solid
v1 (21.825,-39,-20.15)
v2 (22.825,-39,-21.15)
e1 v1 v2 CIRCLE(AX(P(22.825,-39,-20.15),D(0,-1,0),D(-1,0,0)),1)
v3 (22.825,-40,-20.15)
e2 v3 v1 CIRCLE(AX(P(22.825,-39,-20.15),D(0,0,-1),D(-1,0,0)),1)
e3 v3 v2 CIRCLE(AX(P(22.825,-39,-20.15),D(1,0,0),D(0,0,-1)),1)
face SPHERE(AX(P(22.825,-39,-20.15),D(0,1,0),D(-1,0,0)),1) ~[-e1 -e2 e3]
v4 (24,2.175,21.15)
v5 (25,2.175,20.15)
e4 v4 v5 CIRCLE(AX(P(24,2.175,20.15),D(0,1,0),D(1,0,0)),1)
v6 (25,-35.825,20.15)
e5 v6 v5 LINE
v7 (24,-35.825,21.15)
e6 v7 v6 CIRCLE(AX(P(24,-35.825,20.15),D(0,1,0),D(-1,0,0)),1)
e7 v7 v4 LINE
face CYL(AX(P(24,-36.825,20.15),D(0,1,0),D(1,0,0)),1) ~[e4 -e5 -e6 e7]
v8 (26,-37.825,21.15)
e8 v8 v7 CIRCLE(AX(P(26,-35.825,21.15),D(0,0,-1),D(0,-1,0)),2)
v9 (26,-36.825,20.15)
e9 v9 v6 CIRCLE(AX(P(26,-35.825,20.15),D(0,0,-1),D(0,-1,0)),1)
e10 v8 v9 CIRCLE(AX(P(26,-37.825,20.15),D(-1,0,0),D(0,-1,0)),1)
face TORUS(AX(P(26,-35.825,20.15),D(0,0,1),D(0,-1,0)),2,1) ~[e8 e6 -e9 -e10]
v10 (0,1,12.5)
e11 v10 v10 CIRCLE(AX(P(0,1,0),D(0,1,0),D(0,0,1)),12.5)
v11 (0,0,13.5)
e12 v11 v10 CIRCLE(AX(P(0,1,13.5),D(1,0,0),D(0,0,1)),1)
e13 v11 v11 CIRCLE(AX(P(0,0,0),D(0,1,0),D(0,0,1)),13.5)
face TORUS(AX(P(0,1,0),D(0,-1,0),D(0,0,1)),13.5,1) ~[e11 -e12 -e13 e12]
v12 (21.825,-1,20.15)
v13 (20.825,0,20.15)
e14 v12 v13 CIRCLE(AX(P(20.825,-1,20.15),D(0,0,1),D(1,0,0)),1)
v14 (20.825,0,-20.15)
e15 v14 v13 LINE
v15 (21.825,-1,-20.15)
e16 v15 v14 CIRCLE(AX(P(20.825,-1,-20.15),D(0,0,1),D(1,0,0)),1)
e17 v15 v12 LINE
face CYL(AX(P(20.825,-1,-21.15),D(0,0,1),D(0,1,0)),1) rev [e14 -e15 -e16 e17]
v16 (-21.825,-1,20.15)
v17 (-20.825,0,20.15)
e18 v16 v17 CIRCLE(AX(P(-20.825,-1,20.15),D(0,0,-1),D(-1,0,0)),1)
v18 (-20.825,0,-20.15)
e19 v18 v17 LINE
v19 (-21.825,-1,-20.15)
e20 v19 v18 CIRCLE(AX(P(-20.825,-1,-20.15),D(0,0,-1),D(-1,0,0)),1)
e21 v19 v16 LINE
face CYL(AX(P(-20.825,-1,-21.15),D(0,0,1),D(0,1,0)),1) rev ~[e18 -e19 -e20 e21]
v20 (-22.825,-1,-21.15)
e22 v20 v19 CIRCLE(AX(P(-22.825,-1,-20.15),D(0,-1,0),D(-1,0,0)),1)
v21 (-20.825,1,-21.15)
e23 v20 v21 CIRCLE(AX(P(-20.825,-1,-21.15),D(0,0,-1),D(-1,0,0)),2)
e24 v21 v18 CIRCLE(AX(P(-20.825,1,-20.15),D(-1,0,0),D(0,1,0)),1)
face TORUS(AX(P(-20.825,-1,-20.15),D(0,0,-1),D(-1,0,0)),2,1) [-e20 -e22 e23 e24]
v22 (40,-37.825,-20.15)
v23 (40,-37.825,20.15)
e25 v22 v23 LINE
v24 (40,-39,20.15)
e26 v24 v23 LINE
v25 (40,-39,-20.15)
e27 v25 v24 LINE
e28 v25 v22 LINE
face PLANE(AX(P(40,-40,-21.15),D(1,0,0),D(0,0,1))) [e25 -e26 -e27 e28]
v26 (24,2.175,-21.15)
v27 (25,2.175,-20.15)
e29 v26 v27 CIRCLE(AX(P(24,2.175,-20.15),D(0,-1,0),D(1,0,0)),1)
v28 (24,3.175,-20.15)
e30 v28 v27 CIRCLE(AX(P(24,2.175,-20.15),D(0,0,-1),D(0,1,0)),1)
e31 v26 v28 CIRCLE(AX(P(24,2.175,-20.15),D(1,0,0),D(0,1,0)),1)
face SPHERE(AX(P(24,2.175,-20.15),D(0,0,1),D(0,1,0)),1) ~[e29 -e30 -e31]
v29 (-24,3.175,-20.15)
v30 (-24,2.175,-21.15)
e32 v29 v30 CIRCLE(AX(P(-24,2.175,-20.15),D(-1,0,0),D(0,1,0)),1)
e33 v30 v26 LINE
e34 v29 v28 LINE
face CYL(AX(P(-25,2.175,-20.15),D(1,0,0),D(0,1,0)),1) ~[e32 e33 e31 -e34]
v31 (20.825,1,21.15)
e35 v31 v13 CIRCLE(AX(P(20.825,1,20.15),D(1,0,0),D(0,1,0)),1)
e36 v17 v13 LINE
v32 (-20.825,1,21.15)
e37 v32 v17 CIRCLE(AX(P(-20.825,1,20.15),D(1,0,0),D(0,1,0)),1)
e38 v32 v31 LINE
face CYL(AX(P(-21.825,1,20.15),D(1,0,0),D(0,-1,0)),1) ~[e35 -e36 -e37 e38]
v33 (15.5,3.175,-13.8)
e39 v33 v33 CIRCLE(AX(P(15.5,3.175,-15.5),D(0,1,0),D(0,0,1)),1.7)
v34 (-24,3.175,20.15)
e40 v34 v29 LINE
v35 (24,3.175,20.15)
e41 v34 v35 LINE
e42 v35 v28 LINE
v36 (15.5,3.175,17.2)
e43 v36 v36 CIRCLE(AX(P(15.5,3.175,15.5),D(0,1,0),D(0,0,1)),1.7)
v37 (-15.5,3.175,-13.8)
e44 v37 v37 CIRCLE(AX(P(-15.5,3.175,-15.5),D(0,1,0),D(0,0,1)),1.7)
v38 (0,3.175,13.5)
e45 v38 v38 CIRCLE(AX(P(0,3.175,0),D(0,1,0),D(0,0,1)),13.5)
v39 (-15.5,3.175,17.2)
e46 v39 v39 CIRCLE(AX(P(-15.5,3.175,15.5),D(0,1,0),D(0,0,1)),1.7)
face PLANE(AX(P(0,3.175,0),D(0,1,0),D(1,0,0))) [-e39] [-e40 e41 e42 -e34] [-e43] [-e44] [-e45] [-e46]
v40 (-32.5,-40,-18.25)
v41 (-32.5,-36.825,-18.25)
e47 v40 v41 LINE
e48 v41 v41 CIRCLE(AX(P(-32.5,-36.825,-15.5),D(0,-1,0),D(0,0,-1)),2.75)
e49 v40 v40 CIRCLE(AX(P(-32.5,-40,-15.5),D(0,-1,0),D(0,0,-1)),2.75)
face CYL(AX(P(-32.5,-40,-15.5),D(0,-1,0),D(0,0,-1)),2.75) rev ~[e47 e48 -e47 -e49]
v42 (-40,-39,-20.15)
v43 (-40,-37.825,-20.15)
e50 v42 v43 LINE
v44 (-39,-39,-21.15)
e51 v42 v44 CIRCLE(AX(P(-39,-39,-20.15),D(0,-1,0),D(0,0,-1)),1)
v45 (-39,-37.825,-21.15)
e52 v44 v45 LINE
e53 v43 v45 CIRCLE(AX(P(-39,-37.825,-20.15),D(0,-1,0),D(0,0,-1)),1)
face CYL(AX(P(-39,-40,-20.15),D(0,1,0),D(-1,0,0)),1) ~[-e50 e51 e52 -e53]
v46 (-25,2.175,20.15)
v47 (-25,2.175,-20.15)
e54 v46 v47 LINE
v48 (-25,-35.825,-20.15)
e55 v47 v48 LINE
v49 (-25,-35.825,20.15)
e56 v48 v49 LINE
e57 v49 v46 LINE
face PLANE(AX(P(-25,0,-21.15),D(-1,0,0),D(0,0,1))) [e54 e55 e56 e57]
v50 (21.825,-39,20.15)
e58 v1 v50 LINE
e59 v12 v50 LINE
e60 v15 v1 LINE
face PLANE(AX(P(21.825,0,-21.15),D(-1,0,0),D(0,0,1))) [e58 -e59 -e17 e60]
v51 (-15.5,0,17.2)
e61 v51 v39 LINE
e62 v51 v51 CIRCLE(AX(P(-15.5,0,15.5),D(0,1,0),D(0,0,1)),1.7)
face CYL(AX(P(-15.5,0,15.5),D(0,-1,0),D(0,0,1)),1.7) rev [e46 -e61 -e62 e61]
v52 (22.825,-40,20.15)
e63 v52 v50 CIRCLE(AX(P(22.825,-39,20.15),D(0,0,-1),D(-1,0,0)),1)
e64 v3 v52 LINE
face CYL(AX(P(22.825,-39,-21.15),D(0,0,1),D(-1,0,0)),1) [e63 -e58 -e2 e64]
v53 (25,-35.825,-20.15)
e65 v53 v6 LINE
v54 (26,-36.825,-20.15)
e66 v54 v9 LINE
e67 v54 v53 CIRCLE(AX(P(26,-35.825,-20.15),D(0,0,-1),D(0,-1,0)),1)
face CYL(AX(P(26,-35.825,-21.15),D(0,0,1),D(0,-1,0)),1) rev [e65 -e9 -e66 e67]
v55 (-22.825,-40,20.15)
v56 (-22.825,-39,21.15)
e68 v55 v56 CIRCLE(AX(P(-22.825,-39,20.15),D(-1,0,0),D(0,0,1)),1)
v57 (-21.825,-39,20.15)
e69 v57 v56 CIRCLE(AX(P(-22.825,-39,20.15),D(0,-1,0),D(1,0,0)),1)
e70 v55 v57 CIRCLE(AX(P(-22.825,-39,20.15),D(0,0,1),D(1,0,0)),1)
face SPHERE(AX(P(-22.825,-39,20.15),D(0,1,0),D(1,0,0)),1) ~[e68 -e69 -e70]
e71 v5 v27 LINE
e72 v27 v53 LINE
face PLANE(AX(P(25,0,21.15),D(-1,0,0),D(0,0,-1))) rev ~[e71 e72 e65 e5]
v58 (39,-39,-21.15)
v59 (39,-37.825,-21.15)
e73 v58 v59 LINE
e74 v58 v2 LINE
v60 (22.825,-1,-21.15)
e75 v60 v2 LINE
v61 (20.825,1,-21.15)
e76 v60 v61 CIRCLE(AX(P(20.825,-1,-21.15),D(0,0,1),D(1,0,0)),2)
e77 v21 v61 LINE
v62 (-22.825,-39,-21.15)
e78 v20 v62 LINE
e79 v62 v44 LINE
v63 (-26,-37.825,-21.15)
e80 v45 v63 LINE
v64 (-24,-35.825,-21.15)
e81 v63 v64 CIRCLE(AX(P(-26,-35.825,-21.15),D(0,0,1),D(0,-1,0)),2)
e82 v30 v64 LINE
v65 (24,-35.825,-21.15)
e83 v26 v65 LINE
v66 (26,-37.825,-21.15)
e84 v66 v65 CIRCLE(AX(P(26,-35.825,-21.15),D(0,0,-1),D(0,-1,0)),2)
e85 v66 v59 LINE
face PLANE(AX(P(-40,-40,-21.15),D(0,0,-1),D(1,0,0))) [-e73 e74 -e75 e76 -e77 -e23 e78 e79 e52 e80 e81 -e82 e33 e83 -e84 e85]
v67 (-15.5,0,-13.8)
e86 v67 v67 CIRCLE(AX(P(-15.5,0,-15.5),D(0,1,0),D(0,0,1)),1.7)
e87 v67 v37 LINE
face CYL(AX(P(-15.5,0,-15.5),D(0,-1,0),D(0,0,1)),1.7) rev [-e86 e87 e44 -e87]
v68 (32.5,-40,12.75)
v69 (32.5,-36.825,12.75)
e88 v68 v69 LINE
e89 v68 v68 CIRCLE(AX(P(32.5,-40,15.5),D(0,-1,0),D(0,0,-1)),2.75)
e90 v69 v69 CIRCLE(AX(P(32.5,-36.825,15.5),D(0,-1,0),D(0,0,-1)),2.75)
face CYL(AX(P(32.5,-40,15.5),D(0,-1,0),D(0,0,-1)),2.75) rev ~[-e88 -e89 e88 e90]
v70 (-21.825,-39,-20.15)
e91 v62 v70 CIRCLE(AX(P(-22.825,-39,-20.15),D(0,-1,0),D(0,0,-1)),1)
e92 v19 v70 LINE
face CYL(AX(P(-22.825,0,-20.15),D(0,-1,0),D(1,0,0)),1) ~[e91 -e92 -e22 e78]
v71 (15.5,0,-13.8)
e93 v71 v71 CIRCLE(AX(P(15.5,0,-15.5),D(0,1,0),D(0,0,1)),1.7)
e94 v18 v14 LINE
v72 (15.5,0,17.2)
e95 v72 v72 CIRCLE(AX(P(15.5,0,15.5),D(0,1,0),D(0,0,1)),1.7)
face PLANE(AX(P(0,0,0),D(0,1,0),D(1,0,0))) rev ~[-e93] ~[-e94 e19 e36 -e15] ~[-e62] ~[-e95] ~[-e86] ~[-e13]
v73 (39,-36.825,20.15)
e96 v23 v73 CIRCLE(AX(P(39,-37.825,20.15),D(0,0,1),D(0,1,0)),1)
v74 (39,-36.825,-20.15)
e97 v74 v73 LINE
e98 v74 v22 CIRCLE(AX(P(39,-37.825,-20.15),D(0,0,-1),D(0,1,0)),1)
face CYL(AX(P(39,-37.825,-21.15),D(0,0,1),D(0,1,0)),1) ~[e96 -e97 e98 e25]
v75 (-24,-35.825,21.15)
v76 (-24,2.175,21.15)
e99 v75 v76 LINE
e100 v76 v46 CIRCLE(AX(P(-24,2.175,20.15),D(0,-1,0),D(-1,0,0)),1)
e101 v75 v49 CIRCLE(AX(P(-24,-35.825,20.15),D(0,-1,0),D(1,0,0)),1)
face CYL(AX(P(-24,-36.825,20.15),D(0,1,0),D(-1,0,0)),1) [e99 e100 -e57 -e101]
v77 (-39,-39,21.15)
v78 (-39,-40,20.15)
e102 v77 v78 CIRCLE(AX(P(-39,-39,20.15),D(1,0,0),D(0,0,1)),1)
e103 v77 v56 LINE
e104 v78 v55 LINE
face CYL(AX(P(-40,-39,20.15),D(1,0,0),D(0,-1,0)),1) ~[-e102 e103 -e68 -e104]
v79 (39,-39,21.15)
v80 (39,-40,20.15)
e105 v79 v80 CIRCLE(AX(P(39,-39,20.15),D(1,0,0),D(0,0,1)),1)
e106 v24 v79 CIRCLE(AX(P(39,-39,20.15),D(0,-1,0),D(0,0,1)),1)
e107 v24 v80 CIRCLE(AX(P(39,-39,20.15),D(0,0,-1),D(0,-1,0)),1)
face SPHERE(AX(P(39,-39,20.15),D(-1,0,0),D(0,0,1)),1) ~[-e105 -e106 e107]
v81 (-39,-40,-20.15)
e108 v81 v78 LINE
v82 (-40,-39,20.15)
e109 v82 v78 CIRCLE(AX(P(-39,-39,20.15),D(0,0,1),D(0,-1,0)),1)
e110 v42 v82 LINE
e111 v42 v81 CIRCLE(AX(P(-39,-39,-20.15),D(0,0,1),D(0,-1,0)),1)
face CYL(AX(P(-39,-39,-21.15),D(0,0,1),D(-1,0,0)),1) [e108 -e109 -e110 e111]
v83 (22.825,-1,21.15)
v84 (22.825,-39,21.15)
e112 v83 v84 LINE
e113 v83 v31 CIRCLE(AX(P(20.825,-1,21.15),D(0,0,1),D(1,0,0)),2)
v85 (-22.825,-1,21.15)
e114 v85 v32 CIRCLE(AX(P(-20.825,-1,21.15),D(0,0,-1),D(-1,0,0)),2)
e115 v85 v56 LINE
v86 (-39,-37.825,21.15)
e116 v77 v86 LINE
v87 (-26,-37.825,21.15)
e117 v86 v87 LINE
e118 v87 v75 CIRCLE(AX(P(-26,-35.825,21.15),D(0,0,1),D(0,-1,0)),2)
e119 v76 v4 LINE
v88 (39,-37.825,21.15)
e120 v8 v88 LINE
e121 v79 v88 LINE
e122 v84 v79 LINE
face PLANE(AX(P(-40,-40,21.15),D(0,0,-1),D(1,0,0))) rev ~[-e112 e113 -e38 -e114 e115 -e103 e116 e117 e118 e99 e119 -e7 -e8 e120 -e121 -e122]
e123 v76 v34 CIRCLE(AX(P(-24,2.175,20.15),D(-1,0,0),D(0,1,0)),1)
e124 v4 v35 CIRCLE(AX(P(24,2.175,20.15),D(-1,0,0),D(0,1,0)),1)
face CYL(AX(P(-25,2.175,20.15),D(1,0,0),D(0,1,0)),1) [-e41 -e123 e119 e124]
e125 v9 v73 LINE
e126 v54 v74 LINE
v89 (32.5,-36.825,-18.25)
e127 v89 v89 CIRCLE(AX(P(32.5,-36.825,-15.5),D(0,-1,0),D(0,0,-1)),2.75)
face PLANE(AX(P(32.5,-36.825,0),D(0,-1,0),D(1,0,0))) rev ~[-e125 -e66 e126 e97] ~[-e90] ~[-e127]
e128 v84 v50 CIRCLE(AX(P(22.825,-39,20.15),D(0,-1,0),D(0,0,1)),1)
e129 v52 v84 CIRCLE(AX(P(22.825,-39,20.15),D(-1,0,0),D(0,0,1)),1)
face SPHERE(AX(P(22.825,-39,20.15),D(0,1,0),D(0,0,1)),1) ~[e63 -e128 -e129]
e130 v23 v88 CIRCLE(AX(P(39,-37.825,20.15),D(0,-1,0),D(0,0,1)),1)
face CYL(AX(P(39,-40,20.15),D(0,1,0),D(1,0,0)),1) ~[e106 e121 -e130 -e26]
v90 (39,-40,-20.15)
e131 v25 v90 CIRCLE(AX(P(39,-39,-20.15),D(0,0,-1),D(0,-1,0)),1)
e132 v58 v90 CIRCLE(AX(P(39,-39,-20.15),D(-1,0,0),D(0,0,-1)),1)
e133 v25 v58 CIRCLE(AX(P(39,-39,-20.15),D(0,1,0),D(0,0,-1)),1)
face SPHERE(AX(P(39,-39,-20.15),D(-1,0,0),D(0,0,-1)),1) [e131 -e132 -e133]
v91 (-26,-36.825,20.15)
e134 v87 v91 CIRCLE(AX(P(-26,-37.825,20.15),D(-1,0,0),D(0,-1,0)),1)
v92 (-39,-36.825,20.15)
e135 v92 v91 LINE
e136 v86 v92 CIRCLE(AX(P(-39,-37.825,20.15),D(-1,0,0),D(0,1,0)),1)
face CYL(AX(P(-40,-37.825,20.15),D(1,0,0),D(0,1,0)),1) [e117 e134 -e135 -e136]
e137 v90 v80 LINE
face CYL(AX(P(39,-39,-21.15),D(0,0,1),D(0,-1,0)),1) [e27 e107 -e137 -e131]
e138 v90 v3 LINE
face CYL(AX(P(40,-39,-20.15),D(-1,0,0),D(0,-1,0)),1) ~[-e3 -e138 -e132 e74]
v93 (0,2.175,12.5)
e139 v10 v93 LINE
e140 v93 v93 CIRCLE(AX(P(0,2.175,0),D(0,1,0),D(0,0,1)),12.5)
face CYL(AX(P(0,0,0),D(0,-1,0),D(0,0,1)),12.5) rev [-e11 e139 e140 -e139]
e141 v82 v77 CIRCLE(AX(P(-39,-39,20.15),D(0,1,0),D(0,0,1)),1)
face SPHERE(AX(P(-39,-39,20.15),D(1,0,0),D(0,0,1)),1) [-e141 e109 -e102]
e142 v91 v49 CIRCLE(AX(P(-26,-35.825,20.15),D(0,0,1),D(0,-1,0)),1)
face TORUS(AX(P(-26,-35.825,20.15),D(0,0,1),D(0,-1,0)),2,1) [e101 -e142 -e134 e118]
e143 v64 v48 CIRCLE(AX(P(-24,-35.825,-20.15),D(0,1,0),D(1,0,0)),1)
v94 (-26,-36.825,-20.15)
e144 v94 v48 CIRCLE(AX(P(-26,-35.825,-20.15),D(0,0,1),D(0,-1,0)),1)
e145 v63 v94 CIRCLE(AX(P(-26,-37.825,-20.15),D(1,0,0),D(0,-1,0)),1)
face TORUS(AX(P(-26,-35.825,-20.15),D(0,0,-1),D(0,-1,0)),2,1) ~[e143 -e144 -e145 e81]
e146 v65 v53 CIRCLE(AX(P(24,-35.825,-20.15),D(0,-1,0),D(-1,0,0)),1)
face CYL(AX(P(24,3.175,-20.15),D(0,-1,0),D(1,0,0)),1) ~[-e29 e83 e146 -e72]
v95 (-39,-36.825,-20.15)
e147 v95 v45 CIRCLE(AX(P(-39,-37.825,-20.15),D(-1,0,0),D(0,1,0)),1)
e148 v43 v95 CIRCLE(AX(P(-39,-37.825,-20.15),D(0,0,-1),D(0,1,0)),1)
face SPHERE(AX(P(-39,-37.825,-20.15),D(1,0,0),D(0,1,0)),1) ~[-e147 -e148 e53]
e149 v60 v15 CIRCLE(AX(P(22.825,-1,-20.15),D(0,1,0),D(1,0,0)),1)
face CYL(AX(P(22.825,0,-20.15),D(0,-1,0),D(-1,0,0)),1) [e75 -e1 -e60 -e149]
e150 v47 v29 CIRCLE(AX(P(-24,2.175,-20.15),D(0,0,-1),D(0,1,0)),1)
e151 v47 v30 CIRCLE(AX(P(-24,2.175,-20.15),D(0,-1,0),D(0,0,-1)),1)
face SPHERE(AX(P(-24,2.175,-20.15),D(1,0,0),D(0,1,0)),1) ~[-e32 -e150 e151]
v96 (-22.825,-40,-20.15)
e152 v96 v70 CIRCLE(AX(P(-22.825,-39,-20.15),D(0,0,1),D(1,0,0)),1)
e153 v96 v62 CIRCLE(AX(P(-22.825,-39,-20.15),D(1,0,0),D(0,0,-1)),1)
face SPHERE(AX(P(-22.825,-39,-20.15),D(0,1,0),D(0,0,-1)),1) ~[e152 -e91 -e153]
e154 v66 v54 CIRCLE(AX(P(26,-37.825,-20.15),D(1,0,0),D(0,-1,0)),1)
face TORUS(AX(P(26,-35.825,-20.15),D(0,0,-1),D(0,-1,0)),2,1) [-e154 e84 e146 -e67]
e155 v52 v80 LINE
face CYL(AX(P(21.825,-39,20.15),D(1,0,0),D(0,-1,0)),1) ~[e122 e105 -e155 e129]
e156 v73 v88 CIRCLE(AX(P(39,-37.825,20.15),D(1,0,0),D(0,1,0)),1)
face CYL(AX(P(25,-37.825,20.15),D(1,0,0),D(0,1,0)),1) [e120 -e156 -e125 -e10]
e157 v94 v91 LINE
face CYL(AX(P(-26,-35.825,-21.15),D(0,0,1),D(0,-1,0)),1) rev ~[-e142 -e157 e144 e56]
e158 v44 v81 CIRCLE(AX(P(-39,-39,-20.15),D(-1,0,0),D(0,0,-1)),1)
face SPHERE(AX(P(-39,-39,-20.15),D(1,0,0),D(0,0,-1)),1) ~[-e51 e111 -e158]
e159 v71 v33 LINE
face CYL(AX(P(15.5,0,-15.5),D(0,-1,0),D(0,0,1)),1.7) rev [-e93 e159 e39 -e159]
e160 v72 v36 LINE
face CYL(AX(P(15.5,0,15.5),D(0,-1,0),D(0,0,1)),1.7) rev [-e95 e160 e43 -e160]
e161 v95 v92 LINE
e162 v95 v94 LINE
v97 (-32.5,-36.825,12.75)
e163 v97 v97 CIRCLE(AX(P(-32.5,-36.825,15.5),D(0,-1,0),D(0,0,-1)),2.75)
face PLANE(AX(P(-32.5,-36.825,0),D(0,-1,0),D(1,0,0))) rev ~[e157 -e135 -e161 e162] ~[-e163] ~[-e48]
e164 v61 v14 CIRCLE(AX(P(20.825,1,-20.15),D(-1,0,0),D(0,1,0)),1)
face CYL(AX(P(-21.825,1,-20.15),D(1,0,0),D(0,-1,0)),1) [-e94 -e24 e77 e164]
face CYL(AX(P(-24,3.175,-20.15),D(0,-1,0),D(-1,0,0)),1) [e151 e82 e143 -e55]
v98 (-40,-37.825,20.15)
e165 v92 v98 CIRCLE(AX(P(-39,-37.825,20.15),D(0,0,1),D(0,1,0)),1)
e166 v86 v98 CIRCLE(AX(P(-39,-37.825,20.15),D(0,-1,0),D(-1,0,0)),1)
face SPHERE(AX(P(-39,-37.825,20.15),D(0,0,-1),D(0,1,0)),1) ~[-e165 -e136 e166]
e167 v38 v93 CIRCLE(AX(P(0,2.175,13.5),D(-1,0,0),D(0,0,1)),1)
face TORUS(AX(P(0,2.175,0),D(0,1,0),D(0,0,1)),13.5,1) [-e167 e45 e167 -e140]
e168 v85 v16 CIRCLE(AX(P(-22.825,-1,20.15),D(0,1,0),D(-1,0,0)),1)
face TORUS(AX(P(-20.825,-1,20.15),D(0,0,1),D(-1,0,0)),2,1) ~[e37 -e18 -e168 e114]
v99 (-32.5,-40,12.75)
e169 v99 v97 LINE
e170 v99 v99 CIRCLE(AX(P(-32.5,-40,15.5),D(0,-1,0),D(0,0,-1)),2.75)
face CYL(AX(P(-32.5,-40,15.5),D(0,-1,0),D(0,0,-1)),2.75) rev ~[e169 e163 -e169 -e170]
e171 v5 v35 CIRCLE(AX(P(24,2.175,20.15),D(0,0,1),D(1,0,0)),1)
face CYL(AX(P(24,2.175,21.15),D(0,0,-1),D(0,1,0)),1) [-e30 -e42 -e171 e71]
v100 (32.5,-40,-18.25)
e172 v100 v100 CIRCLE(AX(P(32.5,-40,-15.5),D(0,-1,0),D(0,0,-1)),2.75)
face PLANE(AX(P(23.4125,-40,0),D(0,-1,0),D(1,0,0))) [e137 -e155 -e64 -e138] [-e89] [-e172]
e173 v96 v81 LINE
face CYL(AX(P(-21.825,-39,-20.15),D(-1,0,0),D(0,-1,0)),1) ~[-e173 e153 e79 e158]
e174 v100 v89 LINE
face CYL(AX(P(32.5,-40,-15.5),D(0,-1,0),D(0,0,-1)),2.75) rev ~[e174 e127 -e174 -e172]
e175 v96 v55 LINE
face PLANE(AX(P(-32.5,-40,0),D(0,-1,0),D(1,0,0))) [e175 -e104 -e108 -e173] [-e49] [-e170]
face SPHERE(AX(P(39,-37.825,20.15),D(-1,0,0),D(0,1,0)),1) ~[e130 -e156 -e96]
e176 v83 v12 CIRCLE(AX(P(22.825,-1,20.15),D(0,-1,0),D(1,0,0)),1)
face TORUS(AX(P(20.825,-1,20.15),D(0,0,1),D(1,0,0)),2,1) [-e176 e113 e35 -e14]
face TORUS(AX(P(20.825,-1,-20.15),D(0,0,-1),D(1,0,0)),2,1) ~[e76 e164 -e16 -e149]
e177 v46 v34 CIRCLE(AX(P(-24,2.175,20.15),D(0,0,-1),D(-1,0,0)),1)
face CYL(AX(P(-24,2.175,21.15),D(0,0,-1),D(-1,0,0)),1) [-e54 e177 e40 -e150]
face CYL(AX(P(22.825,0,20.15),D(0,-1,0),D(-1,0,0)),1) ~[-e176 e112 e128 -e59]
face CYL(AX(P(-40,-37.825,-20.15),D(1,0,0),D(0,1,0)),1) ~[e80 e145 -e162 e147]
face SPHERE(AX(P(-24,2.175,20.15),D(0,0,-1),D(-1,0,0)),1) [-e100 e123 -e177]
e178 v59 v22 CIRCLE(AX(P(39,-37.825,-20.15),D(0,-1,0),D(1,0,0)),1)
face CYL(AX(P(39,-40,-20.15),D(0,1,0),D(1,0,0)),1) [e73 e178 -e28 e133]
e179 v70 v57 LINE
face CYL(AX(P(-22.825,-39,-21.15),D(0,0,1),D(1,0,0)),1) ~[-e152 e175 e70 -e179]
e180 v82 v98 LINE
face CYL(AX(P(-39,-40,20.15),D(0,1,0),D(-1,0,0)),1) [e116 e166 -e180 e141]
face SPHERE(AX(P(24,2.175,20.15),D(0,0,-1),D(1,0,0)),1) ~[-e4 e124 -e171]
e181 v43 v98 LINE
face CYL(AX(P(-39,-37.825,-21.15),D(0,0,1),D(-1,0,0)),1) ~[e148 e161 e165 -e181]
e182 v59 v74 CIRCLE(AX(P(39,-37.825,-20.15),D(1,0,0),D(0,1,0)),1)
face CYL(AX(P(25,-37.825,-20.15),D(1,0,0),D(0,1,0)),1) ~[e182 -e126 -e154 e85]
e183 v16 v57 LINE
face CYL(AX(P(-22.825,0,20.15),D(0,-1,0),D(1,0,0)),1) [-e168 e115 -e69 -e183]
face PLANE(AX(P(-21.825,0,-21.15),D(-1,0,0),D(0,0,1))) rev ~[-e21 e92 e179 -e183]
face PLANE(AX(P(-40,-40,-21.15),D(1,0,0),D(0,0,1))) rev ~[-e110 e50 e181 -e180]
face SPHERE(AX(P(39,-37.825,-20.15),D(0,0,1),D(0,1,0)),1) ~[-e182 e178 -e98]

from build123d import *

# Parameters (mm, degrees)
SKETCH1_W           = 50
SKETCH1_H           = 42.3
SKETCH1_R           = 12.5
SKETCH1_R_2         = 1.7
BOSS_EXTRUDE1_DEPTH = 3.175
SKETCH2_W           = 3.175
SKETCH2_H           = 42.3
BOSS_EXTRUDE2_DEPTH = 40
SKETCH3_W           = 15
SKETCH3_H           = 42.3
SKETCH3_R           = 2.75
BOSS_EXTRUDE3_DEPTH = 3.175
FILLET1_R           = 1
FILLET2_R           = 1


with BuildPart() as part:
    # Sketch1 → Boss-Extrude1 (new body)
    with BuildSketch(Plane(origin=(0, 0, 0), x_dir=(1, 0, 0), z_dir=(0, 1, 0))):
        Rectangle(SKETCH1_W, SKETCH1_H)
        with Locations(Location((0, 0, 0), (0, 0, 270))):
            Circle(SKETCH1_R, mode=Mode.SUBTRACT)
        with Locations(Location((-15.5, 15.5, 0), (0, 0, 270))):
            Circle(SKETCH1_R_2, mode=Mode.SUBTRACT)
        with Locations(Location((15.5, 15.5, 0), (0, 0, 270))):
            Circle(SKETCH1_R_2, mode=Mode.SUBTRACT)
        with Locations(Location((15.5, -15.5, 0), (0, 0, 270))):
            Circle(SKETCH1_R_2, mode=Mode.SUBTRACT)
        with Locations(Location((-15.5, -15.5, 0), (0, 0, 270))):
            Circle(SKETCH1_R_2, mode=Mode.SUBTRACT)
    extrude(amount=BOSS_EXTRUDE1_DEPTH)

    # Sketch2 → Boss-Extrude2 (add)
    with BuildSketch(Plane.XZ):
        with Locations((-23.4125, 0)):
            Rectangle(SKETCH2_W, SKETCH2_H)
        with Locations((23.4125, 0)):
            Rectangle(SKETCH2_W, SKETCH2_H)
    extrude(amount=BOSS_EXTRUDE2_DEPTH)

    # Sketch3 → Boss-Extrude3 (add)
    # profile 1 of 2: a face of its own
    with BuildSketch(Plane.XZ.offset(40)):
        with Locations((-32.5, 0)):
            Rectangle(SKETCH3_W, SKETCH3_H)
        with Locations(Location((-32.5, 15.5, 0), (0, 0, 270))):
            Circle(SKETCH3_R, mode=Mode.SUBTRACT)
        with Locations(Location((-32.5, -15.5, 0), (0, 0, 270))):
            Circle(SKETCH3_R, mode=Mode.SUBTRACT)
    # profile 2 of 2: a face of its own
    with BuildSketch(Plane.XZ.offset(40)):
        with Locations((32.5, 0)):
            Rectangle(SKETCH3_W, SKETCH3_H)
        with Locations(Location((32.5, -15.5, 0), (0, 0, 270))):
            Circle(SKETCH3_R, mode=Mode.SUBTRACT)
        with Locations(Location((32.5, 15.5, 0), (0, 0, 270))):
            Circle(SKETCH3_R, mode=Mode.SUBTRACT)
    extrude(amount=-BOSS_EXTRUDE3_DEPTH)

    # Fillet1
    fillet1_edges = [part.edges().sort_by_distance(p)[0] for p in [
        (25, 3.175, 0),
        (0, 3.175, -21.15),
        (0, 0, 21.15),
        (-21.825, 0, 0),
        (-21.825, -20, -21.15),
        (-21.825, -20, 21.15),
        (-30.9125, -40, -21.15),
        (-21.825, -40, 0),
        (-30.9125, -40, 21.15),
        (0, 0, -21.15),
        (21.825, 0, 0),
        (21.825, -20, 21.15),
        (21.825, -20, -21.15),
        (-25, 3.175, 0),
        (30.9125, -40, 21.15),
        (21.825, -40, 0),
        (30.9125, -40, -21.15),
        (-25, -36.825, 0),
        (-32.5, -36.825, -21.15),
        (-40, -36.825, 0),
        (-40, -38.4125, -21.15),
        (-32.5, -36.825, 21.15),
        (-40, -38.4125, 21.15),
        (-40, -40, 0),
        (25, -36.825, 0),
        (32.5, -36.825, 21.15),
        (40, -36.825, 0),
        (40, -38.4125, 21.15),
        (32.5, -36.825, -21.15),
        (40, -38.4125, -21.15),
        (40, -40, 0),
        (-25, -16.825, -21.15),
        (25, -16.825, -21.15),
        (25, -16.825, 21.15),
        (-25, -16.825, 21.15),
        (0, 3.175, 21.15),
    ]]
    fillet(fillet1_edges, radius=FILLET1_R)

    # Fillet2
    fillet2_edges = [part.edges().sort_by_distance(p)[0] for p in [
        (0, 0, -12.5),
        (0, 3.175, -12.5),
    ]]
    fillet(fillet2_edges, radius=FILLET2_R)


solid = part.part
